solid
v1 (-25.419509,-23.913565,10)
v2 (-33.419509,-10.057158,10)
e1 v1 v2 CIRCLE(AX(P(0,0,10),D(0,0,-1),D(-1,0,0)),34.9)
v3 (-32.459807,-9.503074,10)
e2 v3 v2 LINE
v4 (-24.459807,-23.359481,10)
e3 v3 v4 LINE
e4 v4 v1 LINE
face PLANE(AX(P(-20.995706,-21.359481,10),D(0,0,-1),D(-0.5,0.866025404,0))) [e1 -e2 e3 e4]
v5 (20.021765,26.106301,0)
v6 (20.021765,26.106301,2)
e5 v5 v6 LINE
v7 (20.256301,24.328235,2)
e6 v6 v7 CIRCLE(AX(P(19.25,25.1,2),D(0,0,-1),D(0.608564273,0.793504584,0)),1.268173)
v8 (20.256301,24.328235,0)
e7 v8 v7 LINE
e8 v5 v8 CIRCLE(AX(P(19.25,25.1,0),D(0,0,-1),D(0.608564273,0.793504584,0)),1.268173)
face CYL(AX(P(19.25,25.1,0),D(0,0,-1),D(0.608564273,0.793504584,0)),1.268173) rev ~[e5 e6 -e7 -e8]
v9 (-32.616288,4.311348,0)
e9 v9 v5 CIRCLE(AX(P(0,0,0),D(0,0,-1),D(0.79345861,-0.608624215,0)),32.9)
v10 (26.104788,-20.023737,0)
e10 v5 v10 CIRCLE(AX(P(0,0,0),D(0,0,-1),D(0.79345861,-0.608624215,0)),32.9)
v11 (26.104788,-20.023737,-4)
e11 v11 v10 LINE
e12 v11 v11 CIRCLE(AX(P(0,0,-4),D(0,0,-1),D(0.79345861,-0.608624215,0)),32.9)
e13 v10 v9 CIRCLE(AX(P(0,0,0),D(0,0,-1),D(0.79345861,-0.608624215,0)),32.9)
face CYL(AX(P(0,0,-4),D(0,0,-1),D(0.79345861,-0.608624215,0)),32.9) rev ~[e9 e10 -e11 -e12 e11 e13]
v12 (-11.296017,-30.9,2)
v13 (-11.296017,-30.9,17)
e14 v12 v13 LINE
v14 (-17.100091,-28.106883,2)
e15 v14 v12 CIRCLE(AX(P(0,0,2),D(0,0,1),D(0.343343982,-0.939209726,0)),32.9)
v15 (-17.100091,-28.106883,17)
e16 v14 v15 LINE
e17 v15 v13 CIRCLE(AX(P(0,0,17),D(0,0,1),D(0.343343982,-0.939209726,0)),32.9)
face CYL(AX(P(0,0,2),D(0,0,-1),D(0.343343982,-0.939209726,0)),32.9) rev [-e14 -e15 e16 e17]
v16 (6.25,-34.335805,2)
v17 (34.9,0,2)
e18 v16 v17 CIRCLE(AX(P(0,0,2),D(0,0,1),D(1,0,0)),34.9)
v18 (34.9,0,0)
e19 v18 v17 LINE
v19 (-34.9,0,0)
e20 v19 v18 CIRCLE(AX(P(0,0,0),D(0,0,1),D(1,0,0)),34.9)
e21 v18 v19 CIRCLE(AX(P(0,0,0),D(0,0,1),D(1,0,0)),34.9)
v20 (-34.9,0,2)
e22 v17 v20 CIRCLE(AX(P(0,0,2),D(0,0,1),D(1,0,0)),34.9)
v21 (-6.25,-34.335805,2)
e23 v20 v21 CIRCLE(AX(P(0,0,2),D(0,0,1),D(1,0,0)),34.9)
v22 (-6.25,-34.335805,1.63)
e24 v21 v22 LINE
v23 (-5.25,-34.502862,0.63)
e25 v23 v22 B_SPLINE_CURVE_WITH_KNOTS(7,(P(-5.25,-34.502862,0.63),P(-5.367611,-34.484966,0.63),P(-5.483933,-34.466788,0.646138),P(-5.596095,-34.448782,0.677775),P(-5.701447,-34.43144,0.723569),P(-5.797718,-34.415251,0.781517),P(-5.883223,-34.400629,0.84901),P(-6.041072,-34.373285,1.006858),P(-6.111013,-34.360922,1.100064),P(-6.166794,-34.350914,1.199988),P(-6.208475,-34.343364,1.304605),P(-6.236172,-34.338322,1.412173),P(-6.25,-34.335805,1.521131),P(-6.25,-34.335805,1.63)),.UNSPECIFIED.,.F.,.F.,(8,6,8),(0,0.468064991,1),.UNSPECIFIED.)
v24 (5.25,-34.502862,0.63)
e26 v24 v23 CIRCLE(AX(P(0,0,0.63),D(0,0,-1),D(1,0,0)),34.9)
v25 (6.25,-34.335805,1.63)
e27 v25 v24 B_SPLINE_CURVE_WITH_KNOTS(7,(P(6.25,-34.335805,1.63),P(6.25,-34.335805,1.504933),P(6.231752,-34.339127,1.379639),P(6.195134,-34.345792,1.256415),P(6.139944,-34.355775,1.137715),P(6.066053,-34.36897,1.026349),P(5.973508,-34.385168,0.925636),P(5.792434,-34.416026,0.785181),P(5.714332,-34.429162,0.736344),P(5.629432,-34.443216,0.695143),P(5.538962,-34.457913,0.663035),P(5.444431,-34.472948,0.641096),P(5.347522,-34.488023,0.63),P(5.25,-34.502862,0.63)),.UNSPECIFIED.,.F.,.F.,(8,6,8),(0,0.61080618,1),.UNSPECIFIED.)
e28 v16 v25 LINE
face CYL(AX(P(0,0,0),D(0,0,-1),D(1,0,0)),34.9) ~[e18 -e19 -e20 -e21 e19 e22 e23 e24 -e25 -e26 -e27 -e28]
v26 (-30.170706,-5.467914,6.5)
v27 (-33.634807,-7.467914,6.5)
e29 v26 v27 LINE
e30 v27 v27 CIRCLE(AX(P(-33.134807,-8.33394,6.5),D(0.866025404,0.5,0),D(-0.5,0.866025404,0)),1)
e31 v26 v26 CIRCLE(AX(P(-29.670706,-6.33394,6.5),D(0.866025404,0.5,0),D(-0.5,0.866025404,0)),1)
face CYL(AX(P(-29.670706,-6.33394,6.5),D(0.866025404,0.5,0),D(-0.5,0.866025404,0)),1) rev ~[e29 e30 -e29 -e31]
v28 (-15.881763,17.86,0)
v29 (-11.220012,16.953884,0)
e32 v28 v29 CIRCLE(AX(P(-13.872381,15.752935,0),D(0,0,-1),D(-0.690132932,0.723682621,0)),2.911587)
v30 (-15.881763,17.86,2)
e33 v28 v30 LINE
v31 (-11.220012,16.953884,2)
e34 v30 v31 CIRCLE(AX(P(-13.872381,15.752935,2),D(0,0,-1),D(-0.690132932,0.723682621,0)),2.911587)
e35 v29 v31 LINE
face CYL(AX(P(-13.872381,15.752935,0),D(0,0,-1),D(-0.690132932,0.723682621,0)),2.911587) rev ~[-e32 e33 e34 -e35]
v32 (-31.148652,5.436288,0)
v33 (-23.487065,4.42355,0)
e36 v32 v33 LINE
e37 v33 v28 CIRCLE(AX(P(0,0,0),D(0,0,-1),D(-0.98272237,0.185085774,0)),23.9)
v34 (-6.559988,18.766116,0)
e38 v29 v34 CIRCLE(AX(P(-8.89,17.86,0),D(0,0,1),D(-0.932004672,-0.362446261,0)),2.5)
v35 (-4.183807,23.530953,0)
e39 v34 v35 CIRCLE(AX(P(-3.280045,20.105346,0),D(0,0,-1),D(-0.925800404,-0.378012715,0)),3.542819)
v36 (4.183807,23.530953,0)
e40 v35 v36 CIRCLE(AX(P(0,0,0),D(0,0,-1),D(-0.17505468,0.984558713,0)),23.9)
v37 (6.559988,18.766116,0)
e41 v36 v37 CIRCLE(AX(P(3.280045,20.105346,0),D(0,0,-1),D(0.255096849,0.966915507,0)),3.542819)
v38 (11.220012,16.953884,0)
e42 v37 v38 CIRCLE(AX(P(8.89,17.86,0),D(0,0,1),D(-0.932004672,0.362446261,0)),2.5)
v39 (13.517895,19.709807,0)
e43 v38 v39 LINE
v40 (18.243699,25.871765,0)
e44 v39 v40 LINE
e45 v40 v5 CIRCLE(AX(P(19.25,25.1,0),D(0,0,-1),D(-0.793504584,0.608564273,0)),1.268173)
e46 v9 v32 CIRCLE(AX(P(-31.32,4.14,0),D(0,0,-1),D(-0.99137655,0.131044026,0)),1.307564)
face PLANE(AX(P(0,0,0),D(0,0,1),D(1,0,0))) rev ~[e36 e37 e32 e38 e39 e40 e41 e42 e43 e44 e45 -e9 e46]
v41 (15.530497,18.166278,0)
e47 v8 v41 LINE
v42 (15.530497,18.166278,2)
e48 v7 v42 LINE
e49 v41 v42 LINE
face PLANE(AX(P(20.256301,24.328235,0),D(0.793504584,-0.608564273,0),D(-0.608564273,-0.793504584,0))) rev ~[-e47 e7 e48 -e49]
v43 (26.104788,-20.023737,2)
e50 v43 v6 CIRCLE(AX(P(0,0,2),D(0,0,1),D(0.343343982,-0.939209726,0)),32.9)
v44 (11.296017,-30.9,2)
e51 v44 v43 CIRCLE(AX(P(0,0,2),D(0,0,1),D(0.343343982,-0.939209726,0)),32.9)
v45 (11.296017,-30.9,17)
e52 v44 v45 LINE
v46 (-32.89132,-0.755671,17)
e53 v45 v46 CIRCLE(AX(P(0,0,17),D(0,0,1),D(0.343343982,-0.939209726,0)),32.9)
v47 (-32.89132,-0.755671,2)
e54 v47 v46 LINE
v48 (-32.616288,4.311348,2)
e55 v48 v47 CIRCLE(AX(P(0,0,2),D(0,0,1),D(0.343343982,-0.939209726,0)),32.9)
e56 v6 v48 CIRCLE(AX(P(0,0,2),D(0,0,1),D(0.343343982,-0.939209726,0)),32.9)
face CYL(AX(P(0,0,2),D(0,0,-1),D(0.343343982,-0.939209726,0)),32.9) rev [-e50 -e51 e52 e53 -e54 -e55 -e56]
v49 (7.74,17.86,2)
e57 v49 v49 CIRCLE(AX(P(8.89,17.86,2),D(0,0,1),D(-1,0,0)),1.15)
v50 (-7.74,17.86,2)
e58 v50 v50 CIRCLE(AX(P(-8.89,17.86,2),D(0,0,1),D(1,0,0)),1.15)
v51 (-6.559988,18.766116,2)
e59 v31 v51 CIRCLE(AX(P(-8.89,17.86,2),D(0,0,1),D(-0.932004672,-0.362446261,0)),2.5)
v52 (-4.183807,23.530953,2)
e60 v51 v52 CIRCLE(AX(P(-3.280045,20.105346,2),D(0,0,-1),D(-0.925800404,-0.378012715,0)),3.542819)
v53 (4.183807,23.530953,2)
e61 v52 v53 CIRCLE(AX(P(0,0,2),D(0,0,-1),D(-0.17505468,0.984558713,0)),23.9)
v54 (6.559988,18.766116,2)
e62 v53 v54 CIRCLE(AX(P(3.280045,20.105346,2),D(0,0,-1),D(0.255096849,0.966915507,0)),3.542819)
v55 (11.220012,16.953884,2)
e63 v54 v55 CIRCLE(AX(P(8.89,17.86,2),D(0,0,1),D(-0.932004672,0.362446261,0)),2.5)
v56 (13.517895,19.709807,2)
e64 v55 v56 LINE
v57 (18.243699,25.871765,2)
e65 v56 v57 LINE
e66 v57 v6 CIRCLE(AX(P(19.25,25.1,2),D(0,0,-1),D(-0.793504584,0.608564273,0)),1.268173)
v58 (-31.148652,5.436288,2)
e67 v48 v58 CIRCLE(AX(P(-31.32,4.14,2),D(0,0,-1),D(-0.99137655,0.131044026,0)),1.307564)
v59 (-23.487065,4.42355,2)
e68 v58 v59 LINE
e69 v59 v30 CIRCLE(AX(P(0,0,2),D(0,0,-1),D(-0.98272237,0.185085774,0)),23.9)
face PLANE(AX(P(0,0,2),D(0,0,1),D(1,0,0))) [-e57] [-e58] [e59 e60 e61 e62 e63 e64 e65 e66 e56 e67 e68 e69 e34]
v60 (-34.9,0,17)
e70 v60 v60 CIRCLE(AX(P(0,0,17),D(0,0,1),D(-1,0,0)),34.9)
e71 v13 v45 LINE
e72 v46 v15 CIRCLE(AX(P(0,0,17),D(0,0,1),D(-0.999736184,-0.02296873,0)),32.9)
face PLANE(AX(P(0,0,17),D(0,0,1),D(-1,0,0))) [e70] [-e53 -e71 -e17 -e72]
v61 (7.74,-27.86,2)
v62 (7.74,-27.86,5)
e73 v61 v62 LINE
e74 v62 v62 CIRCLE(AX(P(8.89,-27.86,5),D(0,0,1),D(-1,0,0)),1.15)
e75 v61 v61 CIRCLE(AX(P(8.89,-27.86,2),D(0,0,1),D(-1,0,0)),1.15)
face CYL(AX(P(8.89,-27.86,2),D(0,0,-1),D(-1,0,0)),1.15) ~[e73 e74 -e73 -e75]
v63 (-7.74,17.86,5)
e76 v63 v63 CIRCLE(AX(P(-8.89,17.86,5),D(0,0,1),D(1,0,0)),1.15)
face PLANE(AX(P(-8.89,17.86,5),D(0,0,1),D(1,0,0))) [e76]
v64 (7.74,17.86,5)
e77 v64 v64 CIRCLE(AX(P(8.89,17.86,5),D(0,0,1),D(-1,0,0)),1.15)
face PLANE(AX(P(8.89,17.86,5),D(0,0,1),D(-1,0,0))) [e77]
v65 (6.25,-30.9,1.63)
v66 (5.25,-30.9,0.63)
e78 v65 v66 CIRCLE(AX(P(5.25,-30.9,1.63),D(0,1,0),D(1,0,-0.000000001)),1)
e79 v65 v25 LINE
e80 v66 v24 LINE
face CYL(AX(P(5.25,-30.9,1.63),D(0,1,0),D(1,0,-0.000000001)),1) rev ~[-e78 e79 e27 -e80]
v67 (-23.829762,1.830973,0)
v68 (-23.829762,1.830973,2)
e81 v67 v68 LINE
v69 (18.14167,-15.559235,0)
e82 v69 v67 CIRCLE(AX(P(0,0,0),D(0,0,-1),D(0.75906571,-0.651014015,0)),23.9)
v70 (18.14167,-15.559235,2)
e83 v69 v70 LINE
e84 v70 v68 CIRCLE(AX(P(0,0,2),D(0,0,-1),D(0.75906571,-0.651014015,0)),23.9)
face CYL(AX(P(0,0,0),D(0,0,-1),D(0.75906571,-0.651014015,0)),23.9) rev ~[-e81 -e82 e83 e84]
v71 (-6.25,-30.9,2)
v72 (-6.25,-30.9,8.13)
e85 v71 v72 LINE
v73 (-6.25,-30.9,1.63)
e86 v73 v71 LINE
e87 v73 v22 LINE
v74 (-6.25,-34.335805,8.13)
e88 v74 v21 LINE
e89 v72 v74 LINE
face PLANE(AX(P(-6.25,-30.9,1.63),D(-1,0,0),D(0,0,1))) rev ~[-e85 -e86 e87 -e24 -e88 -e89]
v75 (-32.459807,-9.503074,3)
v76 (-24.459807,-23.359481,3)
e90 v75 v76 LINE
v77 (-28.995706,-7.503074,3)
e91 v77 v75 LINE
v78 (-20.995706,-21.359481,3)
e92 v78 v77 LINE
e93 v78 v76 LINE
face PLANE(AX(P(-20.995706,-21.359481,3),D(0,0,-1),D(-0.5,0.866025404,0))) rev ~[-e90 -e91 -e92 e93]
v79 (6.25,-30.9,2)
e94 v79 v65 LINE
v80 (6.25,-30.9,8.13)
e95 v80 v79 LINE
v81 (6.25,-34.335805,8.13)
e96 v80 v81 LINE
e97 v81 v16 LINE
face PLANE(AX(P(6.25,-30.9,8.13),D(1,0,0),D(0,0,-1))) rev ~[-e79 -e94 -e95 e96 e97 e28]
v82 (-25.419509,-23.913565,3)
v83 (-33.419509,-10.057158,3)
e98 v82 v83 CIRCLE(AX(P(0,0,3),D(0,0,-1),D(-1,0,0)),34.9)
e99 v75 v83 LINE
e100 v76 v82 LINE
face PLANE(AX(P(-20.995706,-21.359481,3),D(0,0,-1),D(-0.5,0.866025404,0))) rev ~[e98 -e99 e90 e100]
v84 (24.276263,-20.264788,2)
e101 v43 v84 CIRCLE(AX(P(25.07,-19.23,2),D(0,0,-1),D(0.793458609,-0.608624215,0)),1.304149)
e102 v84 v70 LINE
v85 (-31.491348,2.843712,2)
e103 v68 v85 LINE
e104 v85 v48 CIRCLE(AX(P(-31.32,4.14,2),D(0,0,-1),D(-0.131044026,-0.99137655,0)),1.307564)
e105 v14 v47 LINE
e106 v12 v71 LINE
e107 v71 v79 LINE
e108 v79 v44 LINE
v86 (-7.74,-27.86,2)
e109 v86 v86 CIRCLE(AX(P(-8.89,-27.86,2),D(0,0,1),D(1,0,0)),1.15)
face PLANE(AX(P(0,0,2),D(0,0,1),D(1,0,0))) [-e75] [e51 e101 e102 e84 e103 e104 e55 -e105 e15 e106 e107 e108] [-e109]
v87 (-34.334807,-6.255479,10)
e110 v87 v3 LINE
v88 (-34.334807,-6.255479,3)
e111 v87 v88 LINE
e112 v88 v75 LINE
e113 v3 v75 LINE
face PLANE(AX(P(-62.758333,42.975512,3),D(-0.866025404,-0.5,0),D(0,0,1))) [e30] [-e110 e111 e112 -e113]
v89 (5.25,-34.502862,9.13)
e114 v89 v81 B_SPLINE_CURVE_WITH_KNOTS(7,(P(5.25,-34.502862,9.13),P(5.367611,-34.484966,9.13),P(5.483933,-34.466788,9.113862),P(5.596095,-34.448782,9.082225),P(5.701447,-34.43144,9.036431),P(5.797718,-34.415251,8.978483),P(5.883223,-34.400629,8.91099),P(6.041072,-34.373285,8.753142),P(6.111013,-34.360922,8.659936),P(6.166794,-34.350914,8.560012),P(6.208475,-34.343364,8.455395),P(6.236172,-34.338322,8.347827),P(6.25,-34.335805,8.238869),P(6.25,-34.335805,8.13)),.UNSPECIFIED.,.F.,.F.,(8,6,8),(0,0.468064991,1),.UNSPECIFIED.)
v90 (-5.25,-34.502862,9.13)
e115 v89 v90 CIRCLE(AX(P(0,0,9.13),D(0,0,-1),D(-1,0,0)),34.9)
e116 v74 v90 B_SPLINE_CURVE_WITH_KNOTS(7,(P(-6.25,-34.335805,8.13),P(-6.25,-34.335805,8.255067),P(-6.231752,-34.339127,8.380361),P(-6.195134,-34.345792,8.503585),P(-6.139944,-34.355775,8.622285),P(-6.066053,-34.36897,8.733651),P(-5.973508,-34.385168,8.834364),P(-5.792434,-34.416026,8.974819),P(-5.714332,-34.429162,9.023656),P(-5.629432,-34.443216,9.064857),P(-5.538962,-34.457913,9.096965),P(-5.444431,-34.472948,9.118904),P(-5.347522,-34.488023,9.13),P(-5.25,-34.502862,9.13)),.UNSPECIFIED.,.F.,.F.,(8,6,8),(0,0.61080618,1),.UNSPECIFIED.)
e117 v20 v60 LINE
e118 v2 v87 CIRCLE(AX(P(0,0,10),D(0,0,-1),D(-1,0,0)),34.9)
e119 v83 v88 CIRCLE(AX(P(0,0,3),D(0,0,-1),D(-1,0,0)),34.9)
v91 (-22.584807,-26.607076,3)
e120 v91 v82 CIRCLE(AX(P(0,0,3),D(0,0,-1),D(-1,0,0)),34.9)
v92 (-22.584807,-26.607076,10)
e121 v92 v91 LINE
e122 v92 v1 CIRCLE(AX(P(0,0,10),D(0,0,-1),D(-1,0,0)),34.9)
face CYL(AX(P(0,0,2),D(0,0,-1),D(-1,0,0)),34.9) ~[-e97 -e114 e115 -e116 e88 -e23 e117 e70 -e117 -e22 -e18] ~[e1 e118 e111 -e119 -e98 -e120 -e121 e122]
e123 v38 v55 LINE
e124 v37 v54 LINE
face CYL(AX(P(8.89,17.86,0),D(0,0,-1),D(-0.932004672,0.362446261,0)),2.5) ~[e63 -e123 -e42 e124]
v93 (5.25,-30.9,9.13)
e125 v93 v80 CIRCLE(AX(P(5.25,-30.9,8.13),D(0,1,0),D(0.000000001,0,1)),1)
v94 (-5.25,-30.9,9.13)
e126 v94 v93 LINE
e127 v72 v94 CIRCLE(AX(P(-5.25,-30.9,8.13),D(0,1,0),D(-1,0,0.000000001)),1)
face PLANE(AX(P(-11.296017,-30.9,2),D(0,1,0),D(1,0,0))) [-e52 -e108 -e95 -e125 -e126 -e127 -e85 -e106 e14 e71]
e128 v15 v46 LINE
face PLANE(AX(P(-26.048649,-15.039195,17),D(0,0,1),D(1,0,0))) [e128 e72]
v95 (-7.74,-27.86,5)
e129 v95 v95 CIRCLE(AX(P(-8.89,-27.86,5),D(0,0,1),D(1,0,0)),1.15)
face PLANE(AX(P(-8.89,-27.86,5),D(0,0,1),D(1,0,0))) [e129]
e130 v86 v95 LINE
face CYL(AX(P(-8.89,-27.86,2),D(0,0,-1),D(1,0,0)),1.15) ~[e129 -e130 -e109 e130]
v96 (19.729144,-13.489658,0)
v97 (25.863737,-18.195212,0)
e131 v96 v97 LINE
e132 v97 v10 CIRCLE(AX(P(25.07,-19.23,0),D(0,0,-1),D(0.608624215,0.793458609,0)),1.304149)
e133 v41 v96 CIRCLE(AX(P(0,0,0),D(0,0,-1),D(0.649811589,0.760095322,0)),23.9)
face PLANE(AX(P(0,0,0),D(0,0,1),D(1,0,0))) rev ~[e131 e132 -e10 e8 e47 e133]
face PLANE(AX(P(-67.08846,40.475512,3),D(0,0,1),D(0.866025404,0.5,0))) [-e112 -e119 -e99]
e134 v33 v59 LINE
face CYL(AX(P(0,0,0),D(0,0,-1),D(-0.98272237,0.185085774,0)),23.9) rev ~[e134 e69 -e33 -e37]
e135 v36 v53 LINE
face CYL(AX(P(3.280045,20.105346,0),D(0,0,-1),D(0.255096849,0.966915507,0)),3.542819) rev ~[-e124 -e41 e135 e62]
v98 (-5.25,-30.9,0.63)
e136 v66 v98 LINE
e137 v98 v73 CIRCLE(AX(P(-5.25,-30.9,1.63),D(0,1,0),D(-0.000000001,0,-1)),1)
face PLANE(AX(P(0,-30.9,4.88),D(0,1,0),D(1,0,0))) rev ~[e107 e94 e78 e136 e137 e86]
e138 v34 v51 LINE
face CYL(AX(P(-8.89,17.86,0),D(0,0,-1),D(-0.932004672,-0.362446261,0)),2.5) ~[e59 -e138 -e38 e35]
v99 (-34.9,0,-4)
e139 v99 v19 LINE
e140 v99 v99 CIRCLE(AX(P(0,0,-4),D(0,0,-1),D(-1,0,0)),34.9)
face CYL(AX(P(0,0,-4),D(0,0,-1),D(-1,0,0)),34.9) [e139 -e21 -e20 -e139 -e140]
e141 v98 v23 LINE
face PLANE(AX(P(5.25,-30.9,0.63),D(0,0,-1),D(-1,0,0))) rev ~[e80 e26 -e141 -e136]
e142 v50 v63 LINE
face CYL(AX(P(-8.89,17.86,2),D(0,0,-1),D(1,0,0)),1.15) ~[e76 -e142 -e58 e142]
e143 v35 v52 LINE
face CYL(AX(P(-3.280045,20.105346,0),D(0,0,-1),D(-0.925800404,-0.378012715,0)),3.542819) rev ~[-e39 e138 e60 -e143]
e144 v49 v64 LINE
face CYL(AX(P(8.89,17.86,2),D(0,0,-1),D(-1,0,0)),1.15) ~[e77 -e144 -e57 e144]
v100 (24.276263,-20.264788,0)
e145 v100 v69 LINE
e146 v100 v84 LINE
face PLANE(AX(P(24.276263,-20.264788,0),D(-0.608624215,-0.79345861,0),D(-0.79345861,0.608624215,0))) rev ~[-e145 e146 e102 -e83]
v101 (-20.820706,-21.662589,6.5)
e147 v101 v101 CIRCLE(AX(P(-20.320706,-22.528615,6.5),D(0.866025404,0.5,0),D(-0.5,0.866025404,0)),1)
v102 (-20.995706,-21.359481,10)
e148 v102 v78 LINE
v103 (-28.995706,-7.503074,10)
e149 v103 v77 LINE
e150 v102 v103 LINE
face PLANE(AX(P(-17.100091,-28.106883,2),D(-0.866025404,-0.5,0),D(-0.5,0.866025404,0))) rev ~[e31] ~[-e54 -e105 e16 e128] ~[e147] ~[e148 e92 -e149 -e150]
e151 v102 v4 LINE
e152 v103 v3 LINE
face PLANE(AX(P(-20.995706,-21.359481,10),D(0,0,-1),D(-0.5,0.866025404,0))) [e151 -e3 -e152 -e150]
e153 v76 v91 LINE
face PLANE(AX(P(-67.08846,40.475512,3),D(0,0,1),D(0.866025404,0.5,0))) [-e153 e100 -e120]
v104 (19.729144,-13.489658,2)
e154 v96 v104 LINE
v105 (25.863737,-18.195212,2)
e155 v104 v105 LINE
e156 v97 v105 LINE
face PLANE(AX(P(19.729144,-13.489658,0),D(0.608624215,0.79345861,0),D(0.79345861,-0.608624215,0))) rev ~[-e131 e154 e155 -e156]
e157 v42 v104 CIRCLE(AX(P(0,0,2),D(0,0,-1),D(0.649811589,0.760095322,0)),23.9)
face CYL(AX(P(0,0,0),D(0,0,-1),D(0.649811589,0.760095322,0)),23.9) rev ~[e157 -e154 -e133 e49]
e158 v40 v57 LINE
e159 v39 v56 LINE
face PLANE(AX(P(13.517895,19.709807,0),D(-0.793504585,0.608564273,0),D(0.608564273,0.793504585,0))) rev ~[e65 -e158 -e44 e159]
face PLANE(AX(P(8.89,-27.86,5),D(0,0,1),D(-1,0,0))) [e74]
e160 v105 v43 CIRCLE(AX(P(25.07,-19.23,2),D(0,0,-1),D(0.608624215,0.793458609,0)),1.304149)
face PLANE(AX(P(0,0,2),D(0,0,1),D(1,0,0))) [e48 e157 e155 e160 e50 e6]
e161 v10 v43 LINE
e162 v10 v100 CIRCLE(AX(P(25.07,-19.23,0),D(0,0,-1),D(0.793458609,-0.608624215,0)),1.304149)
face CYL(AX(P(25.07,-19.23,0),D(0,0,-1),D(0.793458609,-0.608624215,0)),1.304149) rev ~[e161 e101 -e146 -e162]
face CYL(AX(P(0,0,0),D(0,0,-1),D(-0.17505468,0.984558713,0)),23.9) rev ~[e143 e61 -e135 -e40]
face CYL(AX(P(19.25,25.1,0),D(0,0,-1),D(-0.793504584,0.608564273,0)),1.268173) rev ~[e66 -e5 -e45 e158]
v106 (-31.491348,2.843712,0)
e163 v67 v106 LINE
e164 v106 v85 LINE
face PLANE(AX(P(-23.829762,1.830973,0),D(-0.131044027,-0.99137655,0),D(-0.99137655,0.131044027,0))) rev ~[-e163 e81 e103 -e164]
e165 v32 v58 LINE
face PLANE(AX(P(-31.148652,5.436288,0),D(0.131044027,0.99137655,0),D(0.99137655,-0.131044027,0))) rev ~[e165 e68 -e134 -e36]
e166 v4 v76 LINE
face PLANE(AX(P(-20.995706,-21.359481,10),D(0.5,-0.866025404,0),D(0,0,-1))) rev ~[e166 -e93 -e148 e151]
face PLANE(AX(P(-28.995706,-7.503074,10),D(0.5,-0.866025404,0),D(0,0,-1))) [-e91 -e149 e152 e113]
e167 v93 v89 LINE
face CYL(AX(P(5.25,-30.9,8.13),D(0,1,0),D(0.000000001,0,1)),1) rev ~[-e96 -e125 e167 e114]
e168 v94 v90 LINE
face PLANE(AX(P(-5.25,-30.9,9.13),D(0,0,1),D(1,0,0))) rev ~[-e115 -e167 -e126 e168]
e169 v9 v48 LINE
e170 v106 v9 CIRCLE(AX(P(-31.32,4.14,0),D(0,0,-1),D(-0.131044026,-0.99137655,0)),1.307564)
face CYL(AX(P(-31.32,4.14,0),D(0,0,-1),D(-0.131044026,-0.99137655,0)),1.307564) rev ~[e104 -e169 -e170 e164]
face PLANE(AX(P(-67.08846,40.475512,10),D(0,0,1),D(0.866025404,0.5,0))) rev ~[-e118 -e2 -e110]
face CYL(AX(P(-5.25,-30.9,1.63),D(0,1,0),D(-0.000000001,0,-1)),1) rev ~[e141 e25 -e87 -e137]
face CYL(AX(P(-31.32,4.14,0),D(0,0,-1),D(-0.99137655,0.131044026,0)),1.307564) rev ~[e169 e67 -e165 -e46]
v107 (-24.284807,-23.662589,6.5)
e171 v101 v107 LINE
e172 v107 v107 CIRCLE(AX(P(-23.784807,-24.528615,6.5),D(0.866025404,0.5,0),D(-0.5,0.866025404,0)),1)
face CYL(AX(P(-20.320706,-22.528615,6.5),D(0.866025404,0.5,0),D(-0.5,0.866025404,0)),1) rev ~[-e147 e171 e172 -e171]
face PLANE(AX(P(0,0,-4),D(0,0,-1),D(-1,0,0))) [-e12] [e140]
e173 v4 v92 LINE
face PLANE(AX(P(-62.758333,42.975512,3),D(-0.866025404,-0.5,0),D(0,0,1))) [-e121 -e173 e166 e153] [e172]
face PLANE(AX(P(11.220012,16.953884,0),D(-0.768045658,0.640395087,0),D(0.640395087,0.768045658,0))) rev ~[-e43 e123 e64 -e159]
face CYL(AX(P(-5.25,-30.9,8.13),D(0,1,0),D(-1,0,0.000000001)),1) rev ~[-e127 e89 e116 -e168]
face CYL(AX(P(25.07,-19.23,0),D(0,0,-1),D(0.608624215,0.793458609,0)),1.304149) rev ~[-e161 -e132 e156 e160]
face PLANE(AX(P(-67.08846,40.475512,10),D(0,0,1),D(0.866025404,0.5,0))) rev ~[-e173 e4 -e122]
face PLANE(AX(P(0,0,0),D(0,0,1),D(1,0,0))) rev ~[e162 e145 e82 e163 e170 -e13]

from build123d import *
from build123d.topology import SkipClean

# Parameters (mm, degrees)
ESQUISSE_SUPPORT_R           = 34.9
BOSS_EXTRU_1_DEPTH           = 2
ESQUISSE6_R                  = 1.15
BOSS_EXTRU_2_DEPTH           = 3
BOSS_EXTRU_3_START           = 4
ESQUISSE7_R                  = 34.9
ESQUISSE7_R_2                = 32.9
BOSS_EXTRU_3_DEPTH           = 4
ESQUISSE8_R                  = 34.9
BOSS_EXTRU_5_DEPTH           = 15
ENL_V_MAT_EXTRU_1_DEPTH      = 10
BOSS_EXTRU_6_DEPTH           = 15
ESQUISSE10_R                 = 1
ESQUISSE10_W                 = 7
ESQUISSE10_H                 = 16
ENL_V_MAT_EXTRU_2_DEPTH      = 80.435952156
ENL_V_MAT_EXTRU_3_DEPTH      = 60.597051983
ENL_V_MAT_EXTRU_3_DEPTH_BACK = 60.597051983
ESQUISSE12_W                 = 5
ESQUISSE12_H                 = 7


with BuildPart() as part:
    # Esquisse_support → Boss.-Extru.1 (new body)
    with BuildSketch(Plane.XY):
        Circle(ESQUISSE_SUPPORT_R)
        with BuildLine():
            ThreePointArc((-6.559988321, 18.766115653), (-6.450497051, 21.686422251), (-4.183806862, 23.530953235))
            ThreePointArc((-4.183806862, 23.530953235), (0, 23.9), (4.183806862, 23.530953235))
            ThreePointArc((4.183806862, 23.530953235), (6.450497051, 21.686422251), (6.559988321, 18.766115653))
            ThreePointArc((6.559988321, 18.766115653), (7.983884347, 15.529988321), (11.220011679, 16.953884347))
            Line((11.220011679, 16.953884347), (13.517895322, 19.709807357))
            Line((13.517895322, 19.709807357), (18.243699169, 25.871764581))
            ThreePointArc((18.243699169, 25.871764581), (19.084157828, 26.35728211), (20.021764581, 26.106300831))
            ThreePointArc((20.021764581, 26.106300831), (20.50728211, 25.265842172), (20.256300831, 24.328235419))
            Line((20.256300831, 24.328235419), (15.530496983, 18.166278195))
            ThreePointArc((15.530496983, 18.166278195), (23.692512492, 3.142427693), (19.729143793, -13.489658454))
            Line((19.729143793, -13.489658454), (25.863736665, -18.195211742))
            ThreePointArc((25.863736665, -18.195211742), (26.362962372, -19.059550784), (26.104788258, -20.023736665))
            ThreePointArc((26.104788258, -20.023736665), (25.240449216, -20.522962372), (24.276263335, -20.264788258))
            Line((24.276263335, -20.264788258), (18.141670463, -15.559234969))
            ThreePointArc((18.141670463, -15.559234969), (-9.148411266, -22.079777429), (-23.829761597, 1.830973023))
            Line((-23.829761597, 1.830973023), (-31.491348477, 2.843711519))
            ThreePointArc((-31.491348477, 2.843711519), (-32.357776046, 3.344547295), (-32.616288481, 4.311348477))
            ThreePointArc((-32.616288481, 4.311348477), (-32.115452705, 5.177776046), (-31.148651523, 5.436288481))
            Line((-31.148651523, 5.436288481), (-23.487064643, 4.423549986))
            ThreePointArc((-23.487064643, 4.423549986), (-20.799295594, 11.772820511), (-15.881763126, 17.86))
            ThreePointArc((-15.881763126, 17.86), (-13.316845537, 18.611032405), (-11.220011679, 16.953884347))
            ThreePointArc((-11.220011679, 16.953884347), (-7.983884347, 15.529988321), (-6.559988321, 18.766115653))
        make_face(mode=Mode.SUBTRACT)
    extrude(amount=BOSS_EXTRU_1_DEPTH)

    # Esquisse6 → Boss.-Extru.2 (add)
    with BuildSketch(Plane.XY.offset(2)):
        with Locations((-8.89, 17.86)):
            Circle(ESQUISSE6_R)
        with Locations((-8.89, -27.86)):
            Circle(ESQUISSE6_R)
        with Locations(Location((8.89, -27.86, 0), (0, 0, 180))):
            Circle(ESQUISSE6_R)
        with Locations(Location((8.89, 17.86, 0), (0, 0, 180))):
            Circle(ESQUISSE6_R)
    extrude(amount=BOSS_EXTRU_2_DEPTH)

    # Esquisse7 → Boss.-Extru.3 (add)
    with BuildSketch(Plane(origin=(0, 0, 0), x_dir=(-1, 0, 0), z_dir=(0, 0, -1)).offset(BOSS_EXTRU_3_START)):
        Circle(ESQUISSE7_R)
        with Locations(Location((0, 0, 0), (0, 0, 217.490091077))):
            Circle(ESQUISSE7_R_2, mode=Mode.SUBTRACT)
    extrude(amount=-BOSS_EXTRU_3_DEPTH)

    # Esquisse8 → Boss.-Extru.5 (add)
    with BuildSketch(Plane.XY.offset(2)):
        with Locations(Location((0, 0, 0), (0, 0, 180))):
            Circle(ESQUISSE8_R)
        with BuildLine():
            Line((-11.296016997, -30.9), (11.296016997, -30.9))
            ThreePointArc((11.296016997, -30.9), (0, 32.9), (-11.296016997, -30.9))
        make_face(mode=Mode.SUBTRACT)
    extrude(amount=BOSS_EXTRU_5_DEPTH)

    # Ouverture_USB → Enlèv. mat.-Extru.1 (cut)
    with SkipClean():  # the faces are left unmerged after this step: merging them gives an invalid solid
        with BuildSketch(Plane(origin=(0, -30.9, 0), x_dir=(1, 0, 0), z_dir=(0, 1, 0))):
            with BuildLine():
                Line((-5.25, -9.13), (5.25, -9.13))
                ThreePointArc((5.25, -9.13), (5.957106781, -8.837106781), (6.25, -8.13))
                Line((6.25, -8.13), (6.25, -1.63))
                ThreePointArc((6.25, -1.63), (5.957106781, -0.922893219), (5.25, -0.63))
                Line((5.25, -0.63), (-5.25, -0.63))
                ThreePointArc((-5.25, -0.63), (-5.957106781, -0.922893219), (-6.25, -1.63))
                Line((-6.25, -1.63), (-6.25, -8.13))
                ThreePointArc((-6.25, -8.13), (-5.957106781, -8.837106781), (-5.25, -9.13))
            make_face()
        extrude(amount=-ENL_V_MAT_EXTRU_1_DEPTH, mode=Mode.SUBTRACT)

    # Esquisse9 → Boss.-Extru.6 (add, through all)
    with SkipClean():  # the faces are left unmerged after this step: merging them gives an invalid solid
        with BuildSketch(Plane.XY.offset(2)):
            with BuildLine():
                Line((-17.100090688, -28.106883471), (-32.891320451, -0.755671208))
                ThreePointArc((-32.891320451, -0.755671208), (-28.492235785, -16.45), (-17.100090688, -28.106883471))
            make_face()
        extrude(amount=BOSS_EXTRU_6_DEPTH)

    # Esquisse10 → Enlèv. mat.-Extru.2 (cut, through all)
    with SkipClean():  # the faces are left unmerged after this step: merging them gives an invalid solid
        with BuildSketch(Plane(origin=(-24.99570557, -14.431277339, 0), x_dir=(0, 0, -1), z_dir=(0.8660254037844363, 0.5000000000000042, 0))):
            with Locations(Location((-6.5, -9.35, 0), (0, 0, 90))):
                Circle(ESQUISSE10_R)
            with Locations(Location((-6.5, 9.35, 0), (0, 0, 90))):
                Circle(ESQUISSE10_R)
            with Locations((-6.5, 0)):
                Rectangle(ESQUISSE10_W, ESQUISSE10_H)
        extrude(amount=-ENL_V_MAT_EXTRU_2_DEPTH, mode=Mode.SUBTRACT)

    # Esquisse12 → Enlèv. mat.-Extru.3 (cut, two sides: drawn at the far end of the back side and taken through both)
    with SkipClean():  # the faces are left unmerged after this step: merging them gives an invalid solid
        with BuildSketch(Plane(origin=(-4, 6.92820323, 0), x_dir=(0.8660254037844364, 0.5000000000000041, 0), z_dir=(0.5000000000000041, -0.8660254037844364, 0)).offset(-ENL_V_MAT_EXTRU_3_DEPTH_BACK)):
            with Locations((-35.362554679, 6.5)):
                Rectangle(ESQUISSE12_W, ESQUISSE12_H)
        extrude(amount=ENL_V_MAT_EXTRU_3_DEPTH + ENL_V_MAT_EXTRU_3_DEPTH_BACK, mode=Mode.SUBTRACT)


solid = part.part
